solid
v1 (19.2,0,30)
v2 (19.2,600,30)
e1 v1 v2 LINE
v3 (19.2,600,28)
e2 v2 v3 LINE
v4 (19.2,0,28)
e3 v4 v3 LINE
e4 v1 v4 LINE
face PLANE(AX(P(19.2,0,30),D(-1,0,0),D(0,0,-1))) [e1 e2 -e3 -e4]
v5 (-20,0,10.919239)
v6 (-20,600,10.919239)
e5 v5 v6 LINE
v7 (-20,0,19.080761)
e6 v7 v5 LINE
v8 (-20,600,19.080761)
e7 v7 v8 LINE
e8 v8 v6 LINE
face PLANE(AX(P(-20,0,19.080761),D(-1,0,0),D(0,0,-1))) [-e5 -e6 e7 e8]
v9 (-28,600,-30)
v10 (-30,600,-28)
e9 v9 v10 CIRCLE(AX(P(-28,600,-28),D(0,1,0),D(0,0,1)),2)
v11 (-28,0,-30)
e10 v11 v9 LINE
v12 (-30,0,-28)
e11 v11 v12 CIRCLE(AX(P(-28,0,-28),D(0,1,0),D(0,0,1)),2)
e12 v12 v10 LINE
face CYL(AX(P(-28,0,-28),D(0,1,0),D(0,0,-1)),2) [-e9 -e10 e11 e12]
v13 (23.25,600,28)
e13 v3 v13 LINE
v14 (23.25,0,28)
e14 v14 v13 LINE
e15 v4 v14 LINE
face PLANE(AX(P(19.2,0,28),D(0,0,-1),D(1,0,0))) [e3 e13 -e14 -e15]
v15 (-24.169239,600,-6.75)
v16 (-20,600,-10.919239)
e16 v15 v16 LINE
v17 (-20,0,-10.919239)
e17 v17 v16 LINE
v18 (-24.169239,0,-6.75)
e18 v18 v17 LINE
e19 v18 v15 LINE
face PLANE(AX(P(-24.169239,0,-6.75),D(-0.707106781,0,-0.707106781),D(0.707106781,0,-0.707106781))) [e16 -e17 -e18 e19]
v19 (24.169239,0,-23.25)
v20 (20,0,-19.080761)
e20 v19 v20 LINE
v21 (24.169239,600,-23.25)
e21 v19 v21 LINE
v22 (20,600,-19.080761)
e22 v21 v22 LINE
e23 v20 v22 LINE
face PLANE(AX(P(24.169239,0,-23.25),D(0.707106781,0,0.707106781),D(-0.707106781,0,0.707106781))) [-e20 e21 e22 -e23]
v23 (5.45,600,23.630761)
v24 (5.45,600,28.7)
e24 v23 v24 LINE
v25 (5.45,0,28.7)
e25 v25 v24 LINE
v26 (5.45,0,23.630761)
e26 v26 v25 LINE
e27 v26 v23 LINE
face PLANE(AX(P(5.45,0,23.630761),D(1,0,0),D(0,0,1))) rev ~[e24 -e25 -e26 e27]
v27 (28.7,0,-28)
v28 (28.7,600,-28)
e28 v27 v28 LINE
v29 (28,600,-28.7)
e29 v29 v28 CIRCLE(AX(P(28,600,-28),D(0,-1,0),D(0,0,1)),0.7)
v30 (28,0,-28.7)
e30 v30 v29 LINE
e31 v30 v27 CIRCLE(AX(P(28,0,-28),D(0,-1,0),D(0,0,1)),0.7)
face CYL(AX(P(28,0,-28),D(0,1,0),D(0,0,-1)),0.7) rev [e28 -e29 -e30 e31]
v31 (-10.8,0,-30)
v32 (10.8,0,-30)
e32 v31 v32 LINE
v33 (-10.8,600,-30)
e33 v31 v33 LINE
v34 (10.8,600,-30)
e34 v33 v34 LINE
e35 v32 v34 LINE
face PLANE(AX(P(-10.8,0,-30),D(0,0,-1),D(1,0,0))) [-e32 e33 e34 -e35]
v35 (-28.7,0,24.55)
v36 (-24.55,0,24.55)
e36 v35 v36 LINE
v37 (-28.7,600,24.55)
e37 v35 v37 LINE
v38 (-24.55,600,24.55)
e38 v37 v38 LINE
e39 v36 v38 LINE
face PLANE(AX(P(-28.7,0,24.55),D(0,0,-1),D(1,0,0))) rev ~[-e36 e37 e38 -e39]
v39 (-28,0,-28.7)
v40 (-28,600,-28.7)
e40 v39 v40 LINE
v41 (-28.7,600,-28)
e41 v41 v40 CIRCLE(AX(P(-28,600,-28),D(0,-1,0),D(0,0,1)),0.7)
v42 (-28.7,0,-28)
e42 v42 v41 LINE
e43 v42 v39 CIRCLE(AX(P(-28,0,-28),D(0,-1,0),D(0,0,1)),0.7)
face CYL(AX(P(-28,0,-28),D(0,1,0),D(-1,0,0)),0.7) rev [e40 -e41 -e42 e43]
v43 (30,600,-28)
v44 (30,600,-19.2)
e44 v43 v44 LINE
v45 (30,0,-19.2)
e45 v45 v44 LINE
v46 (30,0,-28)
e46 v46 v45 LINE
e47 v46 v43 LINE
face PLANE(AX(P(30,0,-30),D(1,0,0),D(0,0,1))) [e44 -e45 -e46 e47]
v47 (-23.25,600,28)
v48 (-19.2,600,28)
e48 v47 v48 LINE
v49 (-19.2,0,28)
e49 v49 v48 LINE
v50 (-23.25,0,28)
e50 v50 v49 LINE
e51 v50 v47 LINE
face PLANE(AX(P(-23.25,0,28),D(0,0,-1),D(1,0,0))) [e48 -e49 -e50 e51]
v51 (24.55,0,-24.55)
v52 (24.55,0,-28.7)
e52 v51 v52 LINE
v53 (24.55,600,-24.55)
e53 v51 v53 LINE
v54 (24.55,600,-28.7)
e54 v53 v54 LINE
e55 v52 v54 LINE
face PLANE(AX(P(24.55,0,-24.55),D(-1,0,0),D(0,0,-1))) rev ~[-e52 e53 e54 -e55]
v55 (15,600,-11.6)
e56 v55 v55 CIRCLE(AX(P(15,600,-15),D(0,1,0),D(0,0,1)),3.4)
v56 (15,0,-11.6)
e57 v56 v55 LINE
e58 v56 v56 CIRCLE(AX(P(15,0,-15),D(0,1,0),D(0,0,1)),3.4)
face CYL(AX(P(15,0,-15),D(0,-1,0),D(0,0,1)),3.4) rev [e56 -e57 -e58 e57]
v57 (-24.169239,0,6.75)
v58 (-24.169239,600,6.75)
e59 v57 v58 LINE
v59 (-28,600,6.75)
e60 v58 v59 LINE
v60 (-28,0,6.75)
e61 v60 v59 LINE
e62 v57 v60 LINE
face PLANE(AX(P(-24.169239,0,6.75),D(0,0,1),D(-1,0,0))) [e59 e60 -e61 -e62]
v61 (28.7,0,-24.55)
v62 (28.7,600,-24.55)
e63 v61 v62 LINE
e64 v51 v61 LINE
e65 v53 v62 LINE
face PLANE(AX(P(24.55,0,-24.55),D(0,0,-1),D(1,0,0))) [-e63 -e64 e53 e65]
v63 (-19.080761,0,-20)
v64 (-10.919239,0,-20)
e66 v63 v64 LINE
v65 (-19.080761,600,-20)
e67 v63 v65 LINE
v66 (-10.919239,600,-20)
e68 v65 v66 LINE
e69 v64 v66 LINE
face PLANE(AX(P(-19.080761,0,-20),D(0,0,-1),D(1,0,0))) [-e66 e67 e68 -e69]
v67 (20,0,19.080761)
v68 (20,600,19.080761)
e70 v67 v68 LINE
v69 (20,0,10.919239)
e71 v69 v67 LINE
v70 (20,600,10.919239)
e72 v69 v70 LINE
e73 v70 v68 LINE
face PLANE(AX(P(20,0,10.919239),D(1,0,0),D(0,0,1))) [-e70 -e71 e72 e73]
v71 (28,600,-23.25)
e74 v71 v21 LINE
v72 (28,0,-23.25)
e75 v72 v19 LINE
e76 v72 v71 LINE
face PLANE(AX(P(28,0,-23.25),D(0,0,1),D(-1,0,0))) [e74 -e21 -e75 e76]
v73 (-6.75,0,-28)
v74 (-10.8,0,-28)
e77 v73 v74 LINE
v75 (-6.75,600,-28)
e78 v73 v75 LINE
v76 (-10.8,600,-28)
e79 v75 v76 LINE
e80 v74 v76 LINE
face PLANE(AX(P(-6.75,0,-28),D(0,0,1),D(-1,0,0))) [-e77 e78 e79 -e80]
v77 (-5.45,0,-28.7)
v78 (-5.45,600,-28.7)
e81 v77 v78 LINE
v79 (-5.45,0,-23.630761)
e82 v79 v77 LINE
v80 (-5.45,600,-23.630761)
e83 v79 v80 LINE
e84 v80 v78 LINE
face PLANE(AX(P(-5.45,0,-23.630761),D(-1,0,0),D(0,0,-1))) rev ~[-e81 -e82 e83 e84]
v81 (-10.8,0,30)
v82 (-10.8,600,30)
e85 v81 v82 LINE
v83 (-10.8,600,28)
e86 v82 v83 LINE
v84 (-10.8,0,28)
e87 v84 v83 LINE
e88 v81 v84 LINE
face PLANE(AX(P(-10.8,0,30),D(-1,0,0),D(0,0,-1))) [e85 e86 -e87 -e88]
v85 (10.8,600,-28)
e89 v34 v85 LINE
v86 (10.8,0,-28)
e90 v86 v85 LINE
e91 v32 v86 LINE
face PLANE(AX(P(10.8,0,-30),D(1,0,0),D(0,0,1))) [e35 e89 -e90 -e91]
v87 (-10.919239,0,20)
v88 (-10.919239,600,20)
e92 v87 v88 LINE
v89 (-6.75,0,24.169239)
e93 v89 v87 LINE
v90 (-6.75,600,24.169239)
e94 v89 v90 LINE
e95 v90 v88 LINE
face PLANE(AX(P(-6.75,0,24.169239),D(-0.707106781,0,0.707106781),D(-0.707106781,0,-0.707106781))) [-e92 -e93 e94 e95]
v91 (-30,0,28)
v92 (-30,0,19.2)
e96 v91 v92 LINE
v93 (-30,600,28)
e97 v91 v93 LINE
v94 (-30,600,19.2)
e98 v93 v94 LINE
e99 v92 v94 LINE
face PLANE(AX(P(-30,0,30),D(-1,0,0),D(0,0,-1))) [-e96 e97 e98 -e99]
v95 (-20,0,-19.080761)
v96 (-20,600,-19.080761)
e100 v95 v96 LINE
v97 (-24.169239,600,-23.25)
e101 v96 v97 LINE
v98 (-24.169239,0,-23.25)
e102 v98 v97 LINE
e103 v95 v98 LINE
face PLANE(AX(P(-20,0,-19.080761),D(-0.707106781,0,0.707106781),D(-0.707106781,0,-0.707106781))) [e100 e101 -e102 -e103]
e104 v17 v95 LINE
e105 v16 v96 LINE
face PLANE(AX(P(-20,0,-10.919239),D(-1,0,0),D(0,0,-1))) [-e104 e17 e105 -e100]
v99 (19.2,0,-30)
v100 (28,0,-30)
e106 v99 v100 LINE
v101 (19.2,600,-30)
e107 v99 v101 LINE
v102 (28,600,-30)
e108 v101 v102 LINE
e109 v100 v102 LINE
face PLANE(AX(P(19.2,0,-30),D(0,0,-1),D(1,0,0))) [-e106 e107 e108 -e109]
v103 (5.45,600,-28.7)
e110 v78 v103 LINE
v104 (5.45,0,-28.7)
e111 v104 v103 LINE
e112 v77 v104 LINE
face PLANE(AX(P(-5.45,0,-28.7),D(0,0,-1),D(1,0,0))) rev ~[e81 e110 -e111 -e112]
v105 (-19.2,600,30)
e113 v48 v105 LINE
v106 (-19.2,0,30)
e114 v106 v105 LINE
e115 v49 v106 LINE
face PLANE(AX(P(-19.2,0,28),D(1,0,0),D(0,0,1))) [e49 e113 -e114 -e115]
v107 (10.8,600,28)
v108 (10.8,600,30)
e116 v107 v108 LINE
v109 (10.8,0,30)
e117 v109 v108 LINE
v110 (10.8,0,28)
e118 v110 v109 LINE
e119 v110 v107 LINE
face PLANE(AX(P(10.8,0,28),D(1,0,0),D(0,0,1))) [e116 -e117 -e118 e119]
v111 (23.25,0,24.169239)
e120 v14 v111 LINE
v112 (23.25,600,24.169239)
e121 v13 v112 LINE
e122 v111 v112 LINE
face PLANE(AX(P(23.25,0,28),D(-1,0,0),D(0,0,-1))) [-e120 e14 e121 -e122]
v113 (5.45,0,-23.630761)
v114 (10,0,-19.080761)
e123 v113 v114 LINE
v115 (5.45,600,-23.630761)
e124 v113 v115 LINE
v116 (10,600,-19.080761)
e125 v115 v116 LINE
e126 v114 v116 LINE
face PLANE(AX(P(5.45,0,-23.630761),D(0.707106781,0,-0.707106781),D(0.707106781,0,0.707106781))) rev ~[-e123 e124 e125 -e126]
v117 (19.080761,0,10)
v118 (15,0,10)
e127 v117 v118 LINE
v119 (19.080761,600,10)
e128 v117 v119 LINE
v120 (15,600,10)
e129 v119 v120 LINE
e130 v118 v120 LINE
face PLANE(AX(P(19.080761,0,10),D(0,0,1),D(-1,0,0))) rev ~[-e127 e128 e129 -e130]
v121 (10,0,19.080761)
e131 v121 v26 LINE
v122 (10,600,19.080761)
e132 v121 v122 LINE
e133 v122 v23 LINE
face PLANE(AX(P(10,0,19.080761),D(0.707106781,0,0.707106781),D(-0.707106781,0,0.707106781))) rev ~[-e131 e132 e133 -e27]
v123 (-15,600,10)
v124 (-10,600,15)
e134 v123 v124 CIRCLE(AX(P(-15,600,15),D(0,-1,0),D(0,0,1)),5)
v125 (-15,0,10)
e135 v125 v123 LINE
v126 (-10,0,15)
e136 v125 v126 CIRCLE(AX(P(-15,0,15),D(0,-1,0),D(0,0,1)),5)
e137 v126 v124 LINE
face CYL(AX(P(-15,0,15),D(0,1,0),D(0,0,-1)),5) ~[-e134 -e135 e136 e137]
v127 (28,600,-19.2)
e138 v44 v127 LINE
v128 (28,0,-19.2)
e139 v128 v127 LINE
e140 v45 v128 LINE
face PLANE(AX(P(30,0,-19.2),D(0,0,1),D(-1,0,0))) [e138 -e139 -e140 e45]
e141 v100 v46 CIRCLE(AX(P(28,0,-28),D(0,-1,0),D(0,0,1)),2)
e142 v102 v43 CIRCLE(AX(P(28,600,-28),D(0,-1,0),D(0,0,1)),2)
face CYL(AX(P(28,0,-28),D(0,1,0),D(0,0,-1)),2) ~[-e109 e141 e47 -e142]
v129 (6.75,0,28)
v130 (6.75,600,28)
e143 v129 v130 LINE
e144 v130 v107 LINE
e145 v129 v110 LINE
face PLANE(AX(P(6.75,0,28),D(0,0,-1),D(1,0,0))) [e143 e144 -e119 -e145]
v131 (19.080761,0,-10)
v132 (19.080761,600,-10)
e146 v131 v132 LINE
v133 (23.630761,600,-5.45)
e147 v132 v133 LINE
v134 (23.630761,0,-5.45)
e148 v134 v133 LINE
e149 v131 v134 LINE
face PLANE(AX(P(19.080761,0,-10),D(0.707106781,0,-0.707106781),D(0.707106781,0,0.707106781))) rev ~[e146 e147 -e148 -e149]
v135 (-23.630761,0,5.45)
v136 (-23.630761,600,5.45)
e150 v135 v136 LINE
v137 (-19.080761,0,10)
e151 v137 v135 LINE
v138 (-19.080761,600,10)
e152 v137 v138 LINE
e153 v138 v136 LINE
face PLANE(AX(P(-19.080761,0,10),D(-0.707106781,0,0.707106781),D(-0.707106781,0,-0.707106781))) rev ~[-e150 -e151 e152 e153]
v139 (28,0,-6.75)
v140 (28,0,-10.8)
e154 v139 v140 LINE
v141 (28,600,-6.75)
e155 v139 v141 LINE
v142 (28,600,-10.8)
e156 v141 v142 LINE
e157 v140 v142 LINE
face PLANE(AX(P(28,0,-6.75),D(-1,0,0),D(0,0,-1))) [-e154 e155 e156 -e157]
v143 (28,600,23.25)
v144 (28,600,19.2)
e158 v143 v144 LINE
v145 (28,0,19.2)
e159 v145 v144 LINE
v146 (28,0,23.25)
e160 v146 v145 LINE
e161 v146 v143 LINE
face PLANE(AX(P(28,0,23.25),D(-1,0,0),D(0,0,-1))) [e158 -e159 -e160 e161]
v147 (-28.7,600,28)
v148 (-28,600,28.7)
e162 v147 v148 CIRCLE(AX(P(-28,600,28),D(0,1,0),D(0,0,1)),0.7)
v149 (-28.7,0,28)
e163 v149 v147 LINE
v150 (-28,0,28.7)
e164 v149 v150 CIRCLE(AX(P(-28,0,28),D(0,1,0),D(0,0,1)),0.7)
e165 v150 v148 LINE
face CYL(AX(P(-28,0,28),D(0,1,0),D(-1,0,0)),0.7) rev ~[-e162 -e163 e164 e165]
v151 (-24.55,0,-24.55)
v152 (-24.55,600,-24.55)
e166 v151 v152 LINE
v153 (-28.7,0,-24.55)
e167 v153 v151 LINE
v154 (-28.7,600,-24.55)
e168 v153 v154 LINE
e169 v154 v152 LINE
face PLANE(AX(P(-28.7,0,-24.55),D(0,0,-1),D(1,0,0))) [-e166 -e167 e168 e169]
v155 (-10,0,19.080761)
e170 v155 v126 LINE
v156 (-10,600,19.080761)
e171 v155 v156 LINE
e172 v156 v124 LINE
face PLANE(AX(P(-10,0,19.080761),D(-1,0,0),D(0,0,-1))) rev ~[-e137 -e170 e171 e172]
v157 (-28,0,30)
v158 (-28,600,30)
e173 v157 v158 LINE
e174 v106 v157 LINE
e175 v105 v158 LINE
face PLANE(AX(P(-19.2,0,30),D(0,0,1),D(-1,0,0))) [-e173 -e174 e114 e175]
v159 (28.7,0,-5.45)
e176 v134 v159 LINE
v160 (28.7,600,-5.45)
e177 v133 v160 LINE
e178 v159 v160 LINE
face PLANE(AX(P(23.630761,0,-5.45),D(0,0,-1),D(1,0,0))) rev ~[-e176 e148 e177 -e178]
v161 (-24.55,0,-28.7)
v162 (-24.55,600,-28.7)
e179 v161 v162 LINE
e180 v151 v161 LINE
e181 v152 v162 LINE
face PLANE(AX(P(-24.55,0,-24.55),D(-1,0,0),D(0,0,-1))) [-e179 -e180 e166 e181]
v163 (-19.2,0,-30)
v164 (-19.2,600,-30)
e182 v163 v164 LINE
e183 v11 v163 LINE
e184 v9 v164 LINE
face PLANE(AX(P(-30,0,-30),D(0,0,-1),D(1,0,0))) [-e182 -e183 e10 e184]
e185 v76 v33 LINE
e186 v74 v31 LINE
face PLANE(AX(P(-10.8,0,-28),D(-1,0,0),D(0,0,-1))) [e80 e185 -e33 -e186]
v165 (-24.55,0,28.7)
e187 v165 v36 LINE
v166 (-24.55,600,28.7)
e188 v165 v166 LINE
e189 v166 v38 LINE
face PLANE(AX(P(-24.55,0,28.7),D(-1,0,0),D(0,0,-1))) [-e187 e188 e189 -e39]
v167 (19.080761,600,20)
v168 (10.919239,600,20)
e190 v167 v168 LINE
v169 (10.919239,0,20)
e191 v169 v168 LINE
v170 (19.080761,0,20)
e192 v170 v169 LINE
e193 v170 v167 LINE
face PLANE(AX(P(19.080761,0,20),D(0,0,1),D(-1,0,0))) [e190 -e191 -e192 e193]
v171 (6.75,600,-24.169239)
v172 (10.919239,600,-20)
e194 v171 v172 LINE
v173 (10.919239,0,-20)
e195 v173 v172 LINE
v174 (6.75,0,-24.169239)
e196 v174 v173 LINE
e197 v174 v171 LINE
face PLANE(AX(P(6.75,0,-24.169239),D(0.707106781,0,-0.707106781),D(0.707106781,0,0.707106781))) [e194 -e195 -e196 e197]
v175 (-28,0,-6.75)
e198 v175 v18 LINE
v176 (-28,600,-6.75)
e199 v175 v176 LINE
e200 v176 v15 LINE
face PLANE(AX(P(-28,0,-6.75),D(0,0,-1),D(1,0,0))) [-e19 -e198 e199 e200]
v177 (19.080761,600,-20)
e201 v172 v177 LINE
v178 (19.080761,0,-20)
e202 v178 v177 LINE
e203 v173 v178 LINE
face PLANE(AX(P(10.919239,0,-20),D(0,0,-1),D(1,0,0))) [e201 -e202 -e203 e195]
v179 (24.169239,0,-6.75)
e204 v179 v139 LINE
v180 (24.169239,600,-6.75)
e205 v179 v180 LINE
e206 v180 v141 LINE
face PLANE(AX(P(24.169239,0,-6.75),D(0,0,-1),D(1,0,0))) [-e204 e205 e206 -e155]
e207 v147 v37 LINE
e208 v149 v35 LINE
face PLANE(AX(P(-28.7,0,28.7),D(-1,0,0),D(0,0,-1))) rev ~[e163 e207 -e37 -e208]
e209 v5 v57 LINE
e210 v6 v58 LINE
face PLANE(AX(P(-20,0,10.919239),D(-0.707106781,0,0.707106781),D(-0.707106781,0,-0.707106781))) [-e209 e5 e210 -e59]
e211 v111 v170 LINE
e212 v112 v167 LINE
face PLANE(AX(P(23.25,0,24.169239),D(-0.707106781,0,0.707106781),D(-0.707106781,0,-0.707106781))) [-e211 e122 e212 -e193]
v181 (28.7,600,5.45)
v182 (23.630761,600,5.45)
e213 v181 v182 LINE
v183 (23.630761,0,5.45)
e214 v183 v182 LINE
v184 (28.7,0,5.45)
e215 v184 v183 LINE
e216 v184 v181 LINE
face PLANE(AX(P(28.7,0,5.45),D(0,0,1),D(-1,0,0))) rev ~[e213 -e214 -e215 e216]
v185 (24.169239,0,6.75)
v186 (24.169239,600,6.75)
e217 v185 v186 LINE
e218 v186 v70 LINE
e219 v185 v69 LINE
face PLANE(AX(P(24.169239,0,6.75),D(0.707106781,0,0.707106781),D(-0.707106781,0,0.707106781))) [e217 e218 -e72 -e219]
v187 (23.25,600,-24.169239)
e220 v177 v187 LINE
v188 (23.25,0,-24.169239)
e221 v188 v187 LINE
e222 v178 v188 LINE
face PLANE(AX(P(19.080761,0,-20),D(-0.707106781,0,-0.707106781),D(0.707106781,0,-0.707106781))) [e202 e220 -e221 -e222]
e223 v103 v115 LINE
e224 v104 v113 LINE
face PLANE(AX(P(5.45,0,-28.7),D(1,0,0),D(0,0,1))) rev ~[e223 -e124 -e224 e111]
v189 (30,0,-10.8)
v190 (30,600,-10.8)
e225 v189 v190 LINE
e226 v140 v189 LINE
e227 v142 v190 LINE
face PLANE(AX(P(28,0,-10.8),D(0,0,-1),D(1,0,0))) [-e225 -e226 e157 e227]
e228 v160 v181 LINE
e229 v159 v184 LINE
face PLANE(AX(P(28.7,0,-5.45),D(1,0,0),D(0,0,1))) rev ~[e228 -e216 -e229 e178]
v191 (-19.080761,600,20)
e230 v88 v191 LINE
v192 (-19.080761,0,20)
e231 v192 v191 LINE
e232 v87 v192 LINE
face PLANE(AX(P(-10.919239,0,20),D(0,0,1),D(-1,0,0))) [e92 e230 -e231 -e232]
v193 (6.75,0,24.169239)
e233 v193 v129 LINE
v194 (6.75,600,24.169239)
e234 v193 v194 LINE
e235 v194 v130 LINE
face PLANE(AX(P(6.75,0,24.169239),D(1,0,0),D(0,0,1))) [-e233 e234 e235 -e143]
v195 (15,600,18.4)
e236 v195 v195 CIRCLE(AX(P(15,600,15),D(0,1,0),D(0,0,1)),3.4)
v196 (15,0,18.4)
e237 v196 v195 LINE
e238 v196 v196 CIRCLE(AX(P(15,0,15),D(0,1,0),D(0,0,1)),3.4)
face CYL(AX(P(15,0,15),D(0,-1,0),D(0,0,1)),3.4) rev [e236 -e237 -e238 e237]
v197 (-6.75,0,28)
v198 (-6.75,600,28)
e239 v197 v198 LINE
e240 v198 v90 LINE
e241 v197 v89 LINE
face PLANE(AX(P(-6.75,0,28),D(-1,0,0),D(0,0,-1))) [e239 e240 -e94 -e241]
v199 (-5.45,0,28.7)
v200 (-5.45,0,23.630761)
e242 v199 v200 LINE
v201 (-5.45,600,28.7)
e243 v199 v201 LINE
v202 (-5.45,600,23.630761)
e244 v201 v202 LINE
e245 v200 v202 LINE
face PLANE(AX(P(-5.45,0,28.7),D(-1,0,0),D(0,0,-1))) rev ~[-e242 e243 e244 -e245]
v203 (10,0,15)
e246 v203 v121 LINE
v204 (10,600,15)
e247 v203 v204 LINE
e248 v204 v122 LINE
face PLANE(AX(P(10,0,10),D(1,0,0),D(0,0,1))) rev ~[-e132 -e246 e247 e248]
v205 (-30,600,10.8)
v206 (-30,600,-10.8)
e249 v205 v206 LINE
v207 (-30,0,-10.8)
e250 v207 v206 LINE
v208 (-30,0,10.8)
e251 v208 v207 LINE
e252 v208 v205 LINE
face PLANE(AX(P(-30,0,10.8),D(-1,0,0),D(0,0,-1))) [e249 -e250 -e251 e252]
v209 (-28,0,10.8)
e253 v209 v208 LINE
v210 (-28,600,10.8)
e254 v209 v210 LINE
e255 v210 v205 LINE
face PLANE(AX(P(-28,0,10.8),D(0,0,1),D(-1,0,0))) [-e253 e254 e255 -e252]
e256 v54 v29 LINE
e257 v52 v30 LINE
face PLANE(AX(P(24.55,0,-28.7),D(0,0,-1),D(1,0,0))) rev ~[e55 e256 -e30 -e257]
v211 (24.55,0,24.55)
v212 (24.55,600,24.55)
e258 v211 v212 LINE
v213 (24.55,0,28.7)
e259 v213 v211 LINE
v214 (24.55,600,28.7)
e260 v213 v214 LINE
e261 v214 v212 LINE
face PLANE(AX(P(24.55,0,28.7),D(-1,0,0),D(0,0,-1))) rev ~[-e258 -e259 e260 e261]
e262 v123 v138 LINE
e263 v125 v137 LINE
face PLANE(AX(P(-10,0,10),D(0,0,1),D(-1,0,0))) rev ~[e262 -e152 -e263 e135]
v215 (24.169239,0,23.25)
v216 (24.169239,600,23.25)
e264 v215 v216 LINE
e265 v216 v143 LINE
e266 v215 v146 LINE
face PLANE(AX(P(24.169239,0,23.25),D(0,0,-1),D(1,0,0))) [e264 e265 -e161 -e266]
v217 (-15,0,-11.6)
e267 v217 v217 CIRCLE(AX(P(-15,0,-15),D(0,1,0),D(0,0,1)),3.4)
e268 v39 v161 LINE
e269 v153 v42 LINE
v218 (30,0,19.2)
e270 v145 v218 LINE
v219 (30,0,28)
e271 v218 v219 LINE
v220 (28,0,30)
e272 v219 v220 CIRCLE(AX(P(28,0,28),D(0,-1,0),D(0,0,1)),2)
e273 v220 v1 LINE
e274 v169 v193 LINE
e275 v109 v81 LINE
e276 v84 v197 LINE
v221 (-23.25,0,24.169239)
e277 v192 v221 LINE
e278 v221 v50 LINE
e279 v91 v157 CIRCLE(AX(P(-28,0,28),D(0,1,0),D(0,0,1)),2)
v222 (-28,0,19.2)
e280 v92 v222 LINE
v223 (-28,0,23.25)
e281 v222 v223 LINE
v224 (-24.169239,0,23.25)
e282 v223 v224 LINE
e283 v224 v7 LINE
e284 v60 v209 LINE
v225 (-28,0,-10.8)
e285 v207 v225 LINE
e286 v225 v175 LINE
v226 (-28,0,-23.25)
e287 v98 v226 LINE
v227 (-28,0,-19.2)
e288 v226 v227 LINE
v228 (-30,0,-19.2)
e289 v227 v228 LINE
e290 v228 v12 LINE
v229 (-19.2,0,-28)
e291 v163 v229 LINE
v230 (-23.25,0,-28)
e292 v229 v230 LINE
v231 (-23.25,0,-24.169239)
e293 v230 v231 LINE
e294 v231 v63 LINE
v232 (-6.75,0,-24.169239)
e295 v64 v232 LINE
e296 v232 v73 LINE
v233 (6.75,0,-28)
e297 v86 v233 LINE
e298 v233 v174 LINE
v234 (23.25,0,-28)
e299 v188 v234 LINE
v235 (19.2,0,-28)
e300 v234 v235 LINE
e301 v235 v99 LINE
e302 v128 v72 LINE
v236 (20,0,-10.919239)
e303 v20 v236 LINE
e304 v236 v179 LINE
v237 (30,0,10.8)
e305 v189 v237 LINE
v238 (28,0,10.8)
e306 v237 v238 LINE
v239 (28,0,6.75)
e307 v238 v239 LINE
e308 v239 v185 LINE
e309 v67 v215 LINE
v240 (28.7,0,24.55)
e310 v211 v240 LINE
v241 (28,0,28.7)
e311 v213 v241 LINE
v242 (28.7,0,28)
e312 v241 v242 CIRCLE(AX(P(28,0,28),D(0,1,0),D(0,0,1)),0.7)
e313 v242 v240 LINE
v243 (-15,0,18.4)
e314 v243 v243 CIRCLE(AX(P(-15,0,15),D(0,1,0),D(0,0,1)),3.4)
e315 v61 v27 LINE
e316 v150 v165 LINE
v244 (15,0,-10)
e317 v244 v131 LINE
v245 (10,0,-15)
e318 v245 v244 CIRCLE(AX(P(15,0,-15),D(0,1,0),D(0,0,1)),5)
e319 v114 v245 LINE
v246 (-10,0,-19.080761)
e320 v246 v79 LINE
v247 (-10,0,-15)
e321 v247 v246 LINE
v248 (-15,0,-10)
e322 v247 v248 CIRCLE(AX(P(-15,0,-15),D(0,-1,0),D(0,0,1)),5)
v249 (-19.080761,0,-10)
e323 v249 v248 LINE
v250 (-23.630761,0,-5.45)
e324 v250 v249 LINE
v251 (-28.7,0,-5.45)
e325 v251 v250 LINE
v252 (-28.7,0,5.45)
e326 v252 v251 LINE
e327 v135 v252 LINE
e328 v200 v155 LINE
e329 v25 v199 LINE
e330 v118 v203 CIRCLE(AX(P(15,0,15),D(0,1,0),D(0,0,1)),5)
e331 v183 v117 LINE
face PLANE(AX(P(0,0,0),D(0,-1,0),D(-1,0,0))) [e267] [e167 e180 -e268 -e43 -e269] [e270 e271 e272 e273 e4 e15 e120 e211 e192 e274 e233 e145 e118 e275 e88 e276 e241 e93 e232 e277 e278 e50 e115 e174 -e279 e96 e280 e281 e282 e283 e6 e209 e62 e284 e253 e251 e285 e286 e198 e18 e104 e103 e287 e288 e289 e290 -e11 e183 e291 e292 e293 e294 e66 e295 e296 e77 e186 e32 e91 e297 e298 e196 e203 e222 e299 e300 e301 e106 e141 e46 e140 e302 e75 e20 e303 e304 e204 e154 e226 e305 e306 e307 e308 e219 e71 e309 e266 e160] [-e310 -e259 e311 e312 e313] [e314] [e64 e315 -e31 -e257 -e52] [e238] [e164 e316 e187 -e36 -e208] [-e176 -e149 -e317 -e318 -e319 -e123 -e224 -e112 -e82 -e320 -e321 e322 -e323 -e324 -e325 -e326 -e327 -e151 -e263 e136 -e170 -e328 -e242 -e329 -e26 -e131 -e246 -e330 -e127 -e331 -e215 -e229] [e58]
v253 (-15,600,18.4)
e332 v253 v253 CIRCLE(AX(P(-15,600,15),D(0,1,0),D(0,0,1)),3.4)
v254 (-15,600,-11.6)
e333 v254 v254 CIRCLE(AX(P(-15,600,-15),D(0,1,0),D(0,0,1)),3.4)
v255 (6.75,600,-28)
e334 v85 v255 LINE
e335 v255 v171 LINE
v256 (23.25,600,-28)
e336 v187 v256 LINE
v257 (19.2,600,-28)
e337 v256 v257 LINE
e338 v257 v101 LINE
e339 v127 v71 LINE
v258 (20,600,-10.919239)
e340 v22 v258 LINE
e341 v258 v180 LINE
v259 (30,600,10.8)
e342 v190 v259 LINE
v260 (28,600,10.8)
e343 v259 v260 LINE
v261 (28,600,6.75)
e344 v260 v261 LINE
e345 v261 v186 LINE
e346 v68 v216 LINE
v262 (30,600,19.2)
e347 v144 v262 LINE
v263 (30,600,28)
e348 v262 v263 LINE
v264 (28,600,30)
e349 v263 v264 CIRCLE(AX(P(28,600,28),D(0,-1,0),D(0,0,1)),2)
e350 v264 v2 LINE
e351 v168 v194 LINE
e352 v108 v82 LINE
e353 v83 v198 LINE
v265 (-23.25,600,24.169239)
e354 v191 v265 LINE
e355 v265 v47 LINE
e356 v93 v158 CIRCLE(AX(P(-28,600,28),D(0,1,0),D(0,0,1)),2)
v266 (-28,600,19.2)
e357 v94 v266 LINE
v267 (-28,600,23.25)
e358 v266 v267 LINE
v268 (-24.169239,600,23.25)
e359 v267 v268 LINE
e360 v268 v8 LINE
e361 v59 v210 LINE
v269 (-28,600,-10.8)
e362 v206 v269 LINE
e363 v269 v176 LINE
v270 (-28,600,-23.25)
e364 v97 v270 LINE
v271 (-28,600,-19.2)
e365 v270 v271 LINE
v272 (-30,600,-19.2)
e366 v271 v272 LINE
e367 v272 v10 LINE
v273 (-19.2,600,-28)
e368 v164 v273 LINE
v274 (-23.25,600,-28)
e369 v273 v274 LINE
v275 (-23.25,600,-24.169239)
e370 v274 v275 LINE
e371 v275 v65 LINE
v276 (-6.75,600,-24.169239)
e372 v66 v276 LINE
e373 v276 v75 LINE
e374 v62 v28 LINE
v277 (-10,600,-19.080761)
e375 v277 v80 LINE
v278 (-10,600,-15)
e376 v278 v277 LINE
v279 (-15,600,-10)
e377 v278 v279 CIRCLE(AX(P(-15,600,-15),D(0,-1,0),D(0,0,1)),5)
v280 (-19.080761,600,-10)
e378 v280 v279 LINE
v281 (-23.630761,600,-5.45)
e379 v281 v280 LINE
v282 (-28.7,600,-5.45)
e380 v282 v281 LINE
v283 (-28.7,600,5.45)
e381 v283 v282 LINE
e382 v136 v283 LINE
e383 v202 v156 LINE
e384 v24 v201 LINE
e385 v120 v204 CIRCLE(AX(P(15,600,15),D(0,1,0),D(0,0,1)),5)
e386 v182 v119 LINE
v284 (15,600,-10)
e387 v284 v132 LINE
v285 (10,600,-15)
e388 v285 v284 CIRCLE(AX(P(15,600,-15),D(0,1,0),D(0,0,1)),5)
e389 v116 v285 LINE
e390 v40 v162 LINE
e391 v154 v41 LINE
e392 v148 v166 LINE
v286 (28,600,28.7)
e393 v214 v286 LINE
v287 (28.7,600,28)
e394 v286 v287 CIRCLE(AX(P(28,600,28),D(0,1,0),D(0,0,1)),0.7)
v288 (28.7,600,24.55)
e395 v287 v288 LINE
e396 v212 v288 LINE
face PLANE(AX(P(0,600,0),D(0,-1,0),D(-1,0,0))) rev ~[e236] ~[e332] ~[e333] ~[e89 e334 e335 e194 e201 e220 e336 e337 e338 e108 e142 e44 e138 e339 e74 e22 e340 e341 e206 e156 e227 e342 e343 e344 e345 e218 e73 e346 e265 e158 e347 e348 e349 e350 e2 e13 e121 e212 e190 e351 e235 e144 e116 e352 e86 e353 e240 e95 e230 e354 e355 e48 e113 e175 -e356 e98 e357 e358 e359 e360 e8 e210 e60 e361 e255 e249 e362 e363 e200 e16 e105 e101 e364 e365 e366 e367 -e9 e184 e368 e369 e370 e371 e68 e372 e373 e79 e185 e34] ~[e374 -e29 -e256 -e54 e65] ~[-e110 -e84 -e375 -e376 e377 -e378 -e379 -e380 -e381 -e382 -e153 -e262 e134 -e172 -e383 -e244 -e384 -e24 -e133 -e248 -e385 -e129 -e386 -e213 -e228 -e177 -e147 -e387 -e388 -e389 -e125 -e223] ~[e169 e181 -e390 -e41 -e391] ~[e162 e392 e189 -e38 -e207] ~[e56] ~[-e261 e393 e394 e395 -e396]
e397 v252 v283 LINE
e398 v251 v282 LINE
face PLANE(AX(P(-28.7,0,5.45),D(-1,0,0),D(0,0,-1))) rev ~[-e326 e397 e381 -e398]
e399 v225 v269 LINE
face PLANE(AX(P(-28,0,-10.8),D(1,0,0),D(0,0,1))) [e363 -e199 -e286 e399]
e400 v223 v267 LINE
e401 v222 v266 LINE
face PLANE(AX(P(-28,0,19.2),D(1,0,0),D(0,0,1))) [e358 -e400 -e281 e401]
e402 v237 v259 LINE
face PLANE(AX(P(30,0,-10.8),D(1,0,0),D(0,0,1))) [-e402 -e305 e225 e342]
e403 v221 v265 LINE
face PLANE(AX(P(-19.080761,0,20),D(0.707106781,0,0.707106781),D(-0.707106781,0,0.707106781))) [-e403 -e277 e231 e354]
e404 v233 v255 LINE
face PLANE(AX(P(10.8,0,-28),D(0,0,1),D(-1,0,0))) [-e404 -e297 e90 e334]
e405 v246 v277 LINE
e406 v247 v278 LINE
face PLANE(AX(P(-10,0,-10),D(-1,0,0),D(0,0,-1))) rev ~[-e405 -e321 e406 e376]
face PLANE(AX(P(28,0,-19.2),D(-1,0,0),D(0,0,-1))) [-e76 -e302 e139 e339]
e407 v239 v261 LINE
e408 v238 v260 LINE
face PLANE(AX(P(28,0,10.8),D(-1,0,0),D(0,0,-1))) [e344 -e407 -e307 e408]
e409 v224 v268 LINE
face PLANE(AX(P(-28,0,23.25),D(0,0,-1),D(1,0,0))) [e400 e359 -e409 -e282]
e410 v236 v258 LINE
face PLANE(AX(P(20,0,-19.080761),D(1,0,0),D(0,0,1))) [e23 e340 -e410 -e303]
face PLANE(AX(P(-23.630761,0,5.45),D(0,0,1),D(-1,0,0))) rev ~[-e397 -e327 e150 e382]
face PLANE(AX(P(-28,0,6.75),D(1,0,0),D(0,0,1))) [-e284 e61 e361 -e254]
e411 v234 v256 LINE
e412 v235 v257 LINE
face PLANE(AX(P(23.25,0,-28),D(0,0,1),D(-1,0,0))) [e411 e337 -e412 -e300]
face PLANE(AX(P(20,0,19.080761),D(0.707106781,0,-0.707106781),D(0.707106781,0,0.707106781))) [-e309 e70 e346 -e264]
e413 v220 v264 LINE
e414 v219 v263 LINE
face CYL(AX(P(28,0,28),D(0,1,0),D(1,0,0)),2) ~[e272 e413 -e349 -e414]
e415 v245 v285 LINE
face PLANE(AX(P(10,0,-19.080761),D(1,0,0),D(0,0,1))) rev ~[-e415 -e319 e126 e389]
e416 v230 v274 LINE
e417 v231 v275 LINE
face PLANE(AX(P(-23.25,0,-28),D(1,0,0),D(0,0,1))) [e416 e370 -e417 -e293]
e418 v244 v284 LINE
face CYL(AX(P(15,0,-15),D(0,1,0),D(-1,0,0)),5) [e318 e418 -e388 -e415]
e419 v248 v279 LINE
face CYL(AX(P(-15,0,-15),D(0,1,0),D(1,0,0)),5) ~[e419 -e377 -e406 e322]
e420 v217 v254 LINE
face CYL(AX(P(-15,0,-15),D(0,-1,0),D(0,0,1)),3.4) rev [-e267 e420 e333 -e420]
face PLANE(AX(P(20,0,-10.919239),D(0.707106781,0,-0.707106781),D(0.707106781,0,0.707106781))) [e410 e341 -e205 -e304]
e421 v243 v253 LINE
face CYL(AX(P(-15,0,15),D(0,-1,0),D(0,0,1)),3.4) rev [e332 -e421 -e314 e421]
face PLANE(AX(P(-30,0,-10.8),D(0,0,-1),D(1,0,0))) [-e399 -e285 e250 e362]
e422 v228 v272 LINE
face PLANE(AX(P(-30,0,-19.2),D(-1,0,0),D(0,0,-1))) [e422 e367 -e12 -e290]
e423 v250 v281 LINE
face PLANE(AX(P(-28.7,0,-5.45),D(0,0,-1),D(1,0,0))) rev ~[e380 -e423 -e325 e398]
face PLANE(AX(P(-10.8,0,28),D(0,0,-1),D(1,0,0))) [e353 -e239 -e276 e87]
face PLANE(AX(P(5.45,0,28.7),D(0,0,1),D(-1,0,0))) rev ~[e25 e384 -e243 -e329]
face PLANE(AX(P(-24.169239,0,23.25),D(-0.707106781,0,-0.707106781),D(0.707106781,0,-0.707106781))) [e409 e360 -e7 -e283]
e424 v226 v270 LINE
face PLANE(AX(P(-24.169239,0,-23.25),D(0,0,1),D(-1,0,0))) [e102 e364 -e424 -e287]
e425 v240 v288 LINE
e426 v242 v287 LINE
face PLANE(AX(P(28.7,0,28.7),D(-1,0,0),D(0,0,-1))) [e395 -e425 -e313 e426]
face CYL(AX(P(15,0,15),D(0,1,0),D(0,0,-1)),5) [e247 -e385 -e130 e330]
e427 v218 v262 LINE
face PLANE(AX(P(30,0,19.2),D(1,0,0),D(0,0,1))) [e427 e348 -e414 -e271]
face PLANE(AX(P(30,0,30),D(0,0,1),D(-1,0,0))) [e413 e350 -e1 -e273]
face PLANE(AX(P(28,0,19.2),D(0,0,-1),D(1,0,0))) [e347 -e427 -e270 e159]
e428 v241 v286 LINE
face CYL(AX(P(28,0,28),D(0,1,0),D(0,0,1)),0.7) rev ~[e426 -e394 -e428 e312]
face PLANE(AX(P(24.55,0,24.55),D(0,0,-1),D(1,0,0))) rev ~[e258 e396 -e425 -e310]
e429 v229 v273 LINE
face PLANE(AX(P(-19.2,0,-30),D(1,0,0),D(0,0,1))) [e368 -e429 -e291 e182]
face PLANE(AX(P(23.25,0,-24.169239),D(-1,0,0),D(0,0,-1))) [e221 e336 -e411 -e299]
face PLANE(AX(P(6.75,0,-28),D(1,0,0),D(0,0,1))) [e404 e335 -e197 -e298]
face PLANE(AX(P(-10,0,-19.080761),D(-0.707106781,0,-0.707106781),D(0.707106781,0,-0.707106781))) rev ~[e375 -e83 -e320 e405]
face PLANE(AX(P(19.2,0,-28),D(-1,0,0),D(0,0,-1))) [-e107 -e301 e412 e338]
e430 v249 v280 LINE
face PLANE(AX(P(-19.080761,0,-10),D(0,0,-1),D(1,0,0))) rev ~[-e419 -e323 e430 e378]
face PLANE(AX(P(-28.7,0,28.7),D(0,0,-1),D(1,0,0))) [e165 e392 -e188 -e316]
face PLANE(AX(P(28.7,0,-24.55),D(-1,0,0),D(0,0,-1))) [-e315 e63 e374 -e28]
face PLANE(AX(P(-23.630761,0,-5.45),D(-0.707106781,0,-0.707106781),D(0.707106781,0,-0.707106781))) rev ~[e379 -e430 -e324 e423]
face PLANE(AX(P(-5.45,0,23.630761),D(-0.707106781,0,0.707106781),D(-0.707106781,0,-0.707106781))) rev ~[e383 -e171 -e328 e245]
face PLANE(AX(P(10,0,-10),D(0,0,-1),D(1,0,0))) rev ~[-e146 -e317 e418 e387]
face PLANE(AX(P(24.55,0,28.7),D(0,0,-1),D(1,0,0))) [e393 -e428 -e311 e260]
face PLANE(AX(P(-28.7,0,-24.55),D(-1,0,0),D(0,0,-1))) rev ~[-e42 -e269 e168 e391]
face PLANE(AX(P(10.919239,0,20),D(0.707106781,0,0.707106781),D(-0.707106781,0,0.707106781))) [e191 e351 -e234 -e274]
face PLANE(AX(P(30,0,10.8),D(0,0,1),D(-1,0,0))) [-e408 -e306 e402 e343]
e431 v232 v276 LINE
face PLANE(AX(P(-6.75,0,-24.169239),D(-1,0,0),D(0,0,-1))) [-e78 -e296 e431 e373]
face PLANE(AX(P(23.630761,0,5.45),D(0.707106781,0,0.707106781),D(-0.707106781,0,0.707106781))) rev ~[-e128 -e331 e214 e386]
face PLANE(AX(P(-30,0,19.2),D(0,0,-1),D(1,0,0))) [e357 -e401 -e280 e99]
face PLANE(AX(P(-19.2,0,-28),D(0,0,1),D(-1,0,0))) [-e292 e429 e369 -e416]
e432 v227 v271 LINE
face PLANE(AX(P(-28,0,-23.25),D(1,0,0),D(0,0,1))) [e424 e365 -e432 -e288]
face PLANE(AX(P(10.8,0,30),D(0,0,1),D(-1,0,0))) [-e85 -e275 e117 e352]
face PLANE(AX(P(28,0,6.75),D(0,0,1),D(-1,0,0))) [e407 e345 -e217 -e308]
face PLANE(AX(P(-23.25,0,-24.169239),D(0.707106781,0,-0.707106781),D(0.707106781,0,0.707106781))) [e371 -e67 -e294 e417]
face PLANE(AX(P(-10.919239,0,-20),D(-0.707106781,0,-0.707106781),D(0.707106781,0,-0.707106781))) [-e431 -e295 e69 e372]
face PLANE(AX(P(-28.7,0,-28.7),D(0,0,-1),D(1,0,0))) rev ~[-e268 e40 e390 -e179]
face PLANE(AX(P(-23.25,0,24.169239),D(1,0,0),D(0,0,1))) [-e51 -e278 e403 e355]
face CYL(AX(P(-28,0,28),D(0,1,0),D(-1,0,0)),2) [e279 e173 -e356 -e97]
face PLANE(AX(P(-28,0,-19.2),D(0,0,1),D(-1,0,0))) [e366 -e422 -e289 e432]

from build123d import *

# Parameters (mm, degrees)
SKETCH_1_R      = 3.4
SKETCH_1_W      = 4.15
SKETCH_1_H      = 4.15
EXTRUDE_1_DEPTH = 600
FILLET_1_R      = 0.7
FILLET_2_R      = 2
FILLET_3_R      = 5


with BuildPart() as part:
    # 草图1 → 凸台-拉伸1 (new body)
    with BuildSketch(Plane(origin=(0, 0, 0), x_dir=(1, 0, 0), z_dir=(0, 1, 0))):
        Polygon((-30, 30), (-19.2, 30), (-19.2, 28), (-23.25, 28), (-23.25, 24.169238816), (-19.080761184, 20), (-10.919238816, 20), (-6.75, 24.169238816), (-6.75, 28), (-10.8, 28), (-10.8, 30), (10.8, 30), (10.8, 28), (6.75, 28), (6.75, 24.169238816), (10.919238816, 20), (19.080761184, 20), (23.25, 24.169238816), (23.25, 28), (19.2, 28), (19.2, 30), (30, 30), (30, 19.2), (28, 19.2), (28, 23.25), (24.169238816, 23.25), (20, 19.080761184), (20, 10.919238816), (24.169238816, 6.75), (28, 6.75), (28, 10.8), (30, 10.8), (30, -10.8), (28, -10.8), (28, -6.75), (24.169238816, -6.75), (20, -10.919238816), (20, -19.080761184), (24.169238816, -23.25), (28, -23.25), (28, -19.2), (30, -19.2), (30, -30), (19.2, -30), (19.2, -28), (23.25, -28), (23.25, -24.169238816), (19.080761184, -20), (10.919238816, -20), (6.75, -24.169238816), (6.75, -28), (10.8, -28), (10.8, -30), (-10.8, -30), (-10.8, -28), (-6.75, -28), (-6.75, -24.169238816), (-10.919238816, -20), (-19.080761184, -20), (-23.25, -24.169238816), (-23.25, -28), (-19.2, -28), (-19.2, -30), (-30, -30), (-30, -19.2), (-28, -19.2), (-28, -23.25), (-24.169238816, -23.25), (-20, -19.080761184), (-20, -10.919238816), (-24.169238816, -6.75), (-28, -6.75), (-28, -10.8), (-30, -10.8), (-30, 10.8), (-28, 10.8), (-28, 6.75), (-24.169238816, 6.75), (-20, 10.919238816), (-20, 19.080761184), (-24.169238816, 23.25), (-28, 23.25), (-28, 19.2), (-30, 19.2), align=None)
        with Locations(Location((-15, 15, 0), (0, 0, 270))):
            Circle(SKETCH_1_R, mode=Mode.SUBTRACT)
        with Locations(Location((15, 15, 0), (0, 0, 270))):
            Circle(SKETCH_1_R, mode=Mode.SUBTRACT)
        with Locations(Location((15, -15, 0), (0, 0, 270))):
            Circle(SKETCH_1_R, mode=Mode.SUBTRACT)
        with Locations(Location((-15, -15, 0), (0, 0, 270))):
            Circle(SKETCH_1_R, mode=Mode.SUBTRACT)
        Polygon((-5.45, 28), (-5.45, 28.7), (5.45, 28.7), (5.45, 28), (5.45, 23.630761184), (10, 19.080761184), (10, 10), (19.080761184, 10), (23.630761184, 5.45), (28, 5.45), (28.7, 5.45), (28.7, -5.45), (28, -5.45), (23.630761184, -5.45), (19.080761184, -10), (10, -10), (10, -19.080761184), (5.45, -23.630761184), (5.45, -28), (5.45, -28.7), (-5.45, -28.7), (-5.45, -28), (-5.45, -23.630761184), (-10, -19.080761184), (-10, -10), (-19.080761184, -10), (-23.630761184, -5.45), (-28, -5.45), (-28.7, -5.45), (-28.7, 5.45), (-28, 5.45), (-23.630761184, 5.45), (-19.080761184, 10), (-10, 10), (-10, 19.080761184), (-5.45, 23.630761184), align=None, mode=Mode.SUBTRACT)
        with Locations((-26.625, 26.625)):
            Rectangle(SKETCH_1_W, SKETCH_1_H, mode=Mode.SUBTRACT)
        with Locations((26.625, 26.625)):
            Rectangle(SKETCH_1_W, SKETCH_1_H, mode=Mode.SUBTRACT)
        with Locations((26.625, -26.625)):
            Rectangle(SKETCH_1_W, SKETCH_1_H, mode=Mode.SUBTRACT)
        with Locations((-26.625, -26.625)):
            Rectangle(SKETCH_1_W, SKETCH_1_H, mode=Mode.SUBTRACT)
    extrude(amount=EXTRUDE_1_DEPTH)

    # 圆角1
    fillet_1_edges = [part.edges().sort_by_distance(p)[0] for p in [
        (28.7, 300, 28.7),
        (28.7, 300, -28.7),
        (-28.7, 300, -28.7),
        (-28.7, 300, 28.7),
    ]]
    fillet(fillet_1_edges, radius=FILLET_1_R)

    # 圆角2
    fillet_2_edges = [part.edges().sort_by_distance(p)[0] for p in [
        (30, 300, -30),
        (30, 300, 30),
        (-30, 300, 30),
        (-30, 300, -30),
    ]]
    fillet(fillet_2_edges, radius=FILLET_2_R)

    # 圆角3
    fillet_3_edges = [part.edges().sort_by_distance(p)[0] for p in [
        (10, 300, 10),
        (10, 300, -10),
        (-10, 300, -10),
        (-10, 300, 10),
    ]]
    fillet(fillet_3_edges, radius=FILLET_3_R)


solid = part.part
